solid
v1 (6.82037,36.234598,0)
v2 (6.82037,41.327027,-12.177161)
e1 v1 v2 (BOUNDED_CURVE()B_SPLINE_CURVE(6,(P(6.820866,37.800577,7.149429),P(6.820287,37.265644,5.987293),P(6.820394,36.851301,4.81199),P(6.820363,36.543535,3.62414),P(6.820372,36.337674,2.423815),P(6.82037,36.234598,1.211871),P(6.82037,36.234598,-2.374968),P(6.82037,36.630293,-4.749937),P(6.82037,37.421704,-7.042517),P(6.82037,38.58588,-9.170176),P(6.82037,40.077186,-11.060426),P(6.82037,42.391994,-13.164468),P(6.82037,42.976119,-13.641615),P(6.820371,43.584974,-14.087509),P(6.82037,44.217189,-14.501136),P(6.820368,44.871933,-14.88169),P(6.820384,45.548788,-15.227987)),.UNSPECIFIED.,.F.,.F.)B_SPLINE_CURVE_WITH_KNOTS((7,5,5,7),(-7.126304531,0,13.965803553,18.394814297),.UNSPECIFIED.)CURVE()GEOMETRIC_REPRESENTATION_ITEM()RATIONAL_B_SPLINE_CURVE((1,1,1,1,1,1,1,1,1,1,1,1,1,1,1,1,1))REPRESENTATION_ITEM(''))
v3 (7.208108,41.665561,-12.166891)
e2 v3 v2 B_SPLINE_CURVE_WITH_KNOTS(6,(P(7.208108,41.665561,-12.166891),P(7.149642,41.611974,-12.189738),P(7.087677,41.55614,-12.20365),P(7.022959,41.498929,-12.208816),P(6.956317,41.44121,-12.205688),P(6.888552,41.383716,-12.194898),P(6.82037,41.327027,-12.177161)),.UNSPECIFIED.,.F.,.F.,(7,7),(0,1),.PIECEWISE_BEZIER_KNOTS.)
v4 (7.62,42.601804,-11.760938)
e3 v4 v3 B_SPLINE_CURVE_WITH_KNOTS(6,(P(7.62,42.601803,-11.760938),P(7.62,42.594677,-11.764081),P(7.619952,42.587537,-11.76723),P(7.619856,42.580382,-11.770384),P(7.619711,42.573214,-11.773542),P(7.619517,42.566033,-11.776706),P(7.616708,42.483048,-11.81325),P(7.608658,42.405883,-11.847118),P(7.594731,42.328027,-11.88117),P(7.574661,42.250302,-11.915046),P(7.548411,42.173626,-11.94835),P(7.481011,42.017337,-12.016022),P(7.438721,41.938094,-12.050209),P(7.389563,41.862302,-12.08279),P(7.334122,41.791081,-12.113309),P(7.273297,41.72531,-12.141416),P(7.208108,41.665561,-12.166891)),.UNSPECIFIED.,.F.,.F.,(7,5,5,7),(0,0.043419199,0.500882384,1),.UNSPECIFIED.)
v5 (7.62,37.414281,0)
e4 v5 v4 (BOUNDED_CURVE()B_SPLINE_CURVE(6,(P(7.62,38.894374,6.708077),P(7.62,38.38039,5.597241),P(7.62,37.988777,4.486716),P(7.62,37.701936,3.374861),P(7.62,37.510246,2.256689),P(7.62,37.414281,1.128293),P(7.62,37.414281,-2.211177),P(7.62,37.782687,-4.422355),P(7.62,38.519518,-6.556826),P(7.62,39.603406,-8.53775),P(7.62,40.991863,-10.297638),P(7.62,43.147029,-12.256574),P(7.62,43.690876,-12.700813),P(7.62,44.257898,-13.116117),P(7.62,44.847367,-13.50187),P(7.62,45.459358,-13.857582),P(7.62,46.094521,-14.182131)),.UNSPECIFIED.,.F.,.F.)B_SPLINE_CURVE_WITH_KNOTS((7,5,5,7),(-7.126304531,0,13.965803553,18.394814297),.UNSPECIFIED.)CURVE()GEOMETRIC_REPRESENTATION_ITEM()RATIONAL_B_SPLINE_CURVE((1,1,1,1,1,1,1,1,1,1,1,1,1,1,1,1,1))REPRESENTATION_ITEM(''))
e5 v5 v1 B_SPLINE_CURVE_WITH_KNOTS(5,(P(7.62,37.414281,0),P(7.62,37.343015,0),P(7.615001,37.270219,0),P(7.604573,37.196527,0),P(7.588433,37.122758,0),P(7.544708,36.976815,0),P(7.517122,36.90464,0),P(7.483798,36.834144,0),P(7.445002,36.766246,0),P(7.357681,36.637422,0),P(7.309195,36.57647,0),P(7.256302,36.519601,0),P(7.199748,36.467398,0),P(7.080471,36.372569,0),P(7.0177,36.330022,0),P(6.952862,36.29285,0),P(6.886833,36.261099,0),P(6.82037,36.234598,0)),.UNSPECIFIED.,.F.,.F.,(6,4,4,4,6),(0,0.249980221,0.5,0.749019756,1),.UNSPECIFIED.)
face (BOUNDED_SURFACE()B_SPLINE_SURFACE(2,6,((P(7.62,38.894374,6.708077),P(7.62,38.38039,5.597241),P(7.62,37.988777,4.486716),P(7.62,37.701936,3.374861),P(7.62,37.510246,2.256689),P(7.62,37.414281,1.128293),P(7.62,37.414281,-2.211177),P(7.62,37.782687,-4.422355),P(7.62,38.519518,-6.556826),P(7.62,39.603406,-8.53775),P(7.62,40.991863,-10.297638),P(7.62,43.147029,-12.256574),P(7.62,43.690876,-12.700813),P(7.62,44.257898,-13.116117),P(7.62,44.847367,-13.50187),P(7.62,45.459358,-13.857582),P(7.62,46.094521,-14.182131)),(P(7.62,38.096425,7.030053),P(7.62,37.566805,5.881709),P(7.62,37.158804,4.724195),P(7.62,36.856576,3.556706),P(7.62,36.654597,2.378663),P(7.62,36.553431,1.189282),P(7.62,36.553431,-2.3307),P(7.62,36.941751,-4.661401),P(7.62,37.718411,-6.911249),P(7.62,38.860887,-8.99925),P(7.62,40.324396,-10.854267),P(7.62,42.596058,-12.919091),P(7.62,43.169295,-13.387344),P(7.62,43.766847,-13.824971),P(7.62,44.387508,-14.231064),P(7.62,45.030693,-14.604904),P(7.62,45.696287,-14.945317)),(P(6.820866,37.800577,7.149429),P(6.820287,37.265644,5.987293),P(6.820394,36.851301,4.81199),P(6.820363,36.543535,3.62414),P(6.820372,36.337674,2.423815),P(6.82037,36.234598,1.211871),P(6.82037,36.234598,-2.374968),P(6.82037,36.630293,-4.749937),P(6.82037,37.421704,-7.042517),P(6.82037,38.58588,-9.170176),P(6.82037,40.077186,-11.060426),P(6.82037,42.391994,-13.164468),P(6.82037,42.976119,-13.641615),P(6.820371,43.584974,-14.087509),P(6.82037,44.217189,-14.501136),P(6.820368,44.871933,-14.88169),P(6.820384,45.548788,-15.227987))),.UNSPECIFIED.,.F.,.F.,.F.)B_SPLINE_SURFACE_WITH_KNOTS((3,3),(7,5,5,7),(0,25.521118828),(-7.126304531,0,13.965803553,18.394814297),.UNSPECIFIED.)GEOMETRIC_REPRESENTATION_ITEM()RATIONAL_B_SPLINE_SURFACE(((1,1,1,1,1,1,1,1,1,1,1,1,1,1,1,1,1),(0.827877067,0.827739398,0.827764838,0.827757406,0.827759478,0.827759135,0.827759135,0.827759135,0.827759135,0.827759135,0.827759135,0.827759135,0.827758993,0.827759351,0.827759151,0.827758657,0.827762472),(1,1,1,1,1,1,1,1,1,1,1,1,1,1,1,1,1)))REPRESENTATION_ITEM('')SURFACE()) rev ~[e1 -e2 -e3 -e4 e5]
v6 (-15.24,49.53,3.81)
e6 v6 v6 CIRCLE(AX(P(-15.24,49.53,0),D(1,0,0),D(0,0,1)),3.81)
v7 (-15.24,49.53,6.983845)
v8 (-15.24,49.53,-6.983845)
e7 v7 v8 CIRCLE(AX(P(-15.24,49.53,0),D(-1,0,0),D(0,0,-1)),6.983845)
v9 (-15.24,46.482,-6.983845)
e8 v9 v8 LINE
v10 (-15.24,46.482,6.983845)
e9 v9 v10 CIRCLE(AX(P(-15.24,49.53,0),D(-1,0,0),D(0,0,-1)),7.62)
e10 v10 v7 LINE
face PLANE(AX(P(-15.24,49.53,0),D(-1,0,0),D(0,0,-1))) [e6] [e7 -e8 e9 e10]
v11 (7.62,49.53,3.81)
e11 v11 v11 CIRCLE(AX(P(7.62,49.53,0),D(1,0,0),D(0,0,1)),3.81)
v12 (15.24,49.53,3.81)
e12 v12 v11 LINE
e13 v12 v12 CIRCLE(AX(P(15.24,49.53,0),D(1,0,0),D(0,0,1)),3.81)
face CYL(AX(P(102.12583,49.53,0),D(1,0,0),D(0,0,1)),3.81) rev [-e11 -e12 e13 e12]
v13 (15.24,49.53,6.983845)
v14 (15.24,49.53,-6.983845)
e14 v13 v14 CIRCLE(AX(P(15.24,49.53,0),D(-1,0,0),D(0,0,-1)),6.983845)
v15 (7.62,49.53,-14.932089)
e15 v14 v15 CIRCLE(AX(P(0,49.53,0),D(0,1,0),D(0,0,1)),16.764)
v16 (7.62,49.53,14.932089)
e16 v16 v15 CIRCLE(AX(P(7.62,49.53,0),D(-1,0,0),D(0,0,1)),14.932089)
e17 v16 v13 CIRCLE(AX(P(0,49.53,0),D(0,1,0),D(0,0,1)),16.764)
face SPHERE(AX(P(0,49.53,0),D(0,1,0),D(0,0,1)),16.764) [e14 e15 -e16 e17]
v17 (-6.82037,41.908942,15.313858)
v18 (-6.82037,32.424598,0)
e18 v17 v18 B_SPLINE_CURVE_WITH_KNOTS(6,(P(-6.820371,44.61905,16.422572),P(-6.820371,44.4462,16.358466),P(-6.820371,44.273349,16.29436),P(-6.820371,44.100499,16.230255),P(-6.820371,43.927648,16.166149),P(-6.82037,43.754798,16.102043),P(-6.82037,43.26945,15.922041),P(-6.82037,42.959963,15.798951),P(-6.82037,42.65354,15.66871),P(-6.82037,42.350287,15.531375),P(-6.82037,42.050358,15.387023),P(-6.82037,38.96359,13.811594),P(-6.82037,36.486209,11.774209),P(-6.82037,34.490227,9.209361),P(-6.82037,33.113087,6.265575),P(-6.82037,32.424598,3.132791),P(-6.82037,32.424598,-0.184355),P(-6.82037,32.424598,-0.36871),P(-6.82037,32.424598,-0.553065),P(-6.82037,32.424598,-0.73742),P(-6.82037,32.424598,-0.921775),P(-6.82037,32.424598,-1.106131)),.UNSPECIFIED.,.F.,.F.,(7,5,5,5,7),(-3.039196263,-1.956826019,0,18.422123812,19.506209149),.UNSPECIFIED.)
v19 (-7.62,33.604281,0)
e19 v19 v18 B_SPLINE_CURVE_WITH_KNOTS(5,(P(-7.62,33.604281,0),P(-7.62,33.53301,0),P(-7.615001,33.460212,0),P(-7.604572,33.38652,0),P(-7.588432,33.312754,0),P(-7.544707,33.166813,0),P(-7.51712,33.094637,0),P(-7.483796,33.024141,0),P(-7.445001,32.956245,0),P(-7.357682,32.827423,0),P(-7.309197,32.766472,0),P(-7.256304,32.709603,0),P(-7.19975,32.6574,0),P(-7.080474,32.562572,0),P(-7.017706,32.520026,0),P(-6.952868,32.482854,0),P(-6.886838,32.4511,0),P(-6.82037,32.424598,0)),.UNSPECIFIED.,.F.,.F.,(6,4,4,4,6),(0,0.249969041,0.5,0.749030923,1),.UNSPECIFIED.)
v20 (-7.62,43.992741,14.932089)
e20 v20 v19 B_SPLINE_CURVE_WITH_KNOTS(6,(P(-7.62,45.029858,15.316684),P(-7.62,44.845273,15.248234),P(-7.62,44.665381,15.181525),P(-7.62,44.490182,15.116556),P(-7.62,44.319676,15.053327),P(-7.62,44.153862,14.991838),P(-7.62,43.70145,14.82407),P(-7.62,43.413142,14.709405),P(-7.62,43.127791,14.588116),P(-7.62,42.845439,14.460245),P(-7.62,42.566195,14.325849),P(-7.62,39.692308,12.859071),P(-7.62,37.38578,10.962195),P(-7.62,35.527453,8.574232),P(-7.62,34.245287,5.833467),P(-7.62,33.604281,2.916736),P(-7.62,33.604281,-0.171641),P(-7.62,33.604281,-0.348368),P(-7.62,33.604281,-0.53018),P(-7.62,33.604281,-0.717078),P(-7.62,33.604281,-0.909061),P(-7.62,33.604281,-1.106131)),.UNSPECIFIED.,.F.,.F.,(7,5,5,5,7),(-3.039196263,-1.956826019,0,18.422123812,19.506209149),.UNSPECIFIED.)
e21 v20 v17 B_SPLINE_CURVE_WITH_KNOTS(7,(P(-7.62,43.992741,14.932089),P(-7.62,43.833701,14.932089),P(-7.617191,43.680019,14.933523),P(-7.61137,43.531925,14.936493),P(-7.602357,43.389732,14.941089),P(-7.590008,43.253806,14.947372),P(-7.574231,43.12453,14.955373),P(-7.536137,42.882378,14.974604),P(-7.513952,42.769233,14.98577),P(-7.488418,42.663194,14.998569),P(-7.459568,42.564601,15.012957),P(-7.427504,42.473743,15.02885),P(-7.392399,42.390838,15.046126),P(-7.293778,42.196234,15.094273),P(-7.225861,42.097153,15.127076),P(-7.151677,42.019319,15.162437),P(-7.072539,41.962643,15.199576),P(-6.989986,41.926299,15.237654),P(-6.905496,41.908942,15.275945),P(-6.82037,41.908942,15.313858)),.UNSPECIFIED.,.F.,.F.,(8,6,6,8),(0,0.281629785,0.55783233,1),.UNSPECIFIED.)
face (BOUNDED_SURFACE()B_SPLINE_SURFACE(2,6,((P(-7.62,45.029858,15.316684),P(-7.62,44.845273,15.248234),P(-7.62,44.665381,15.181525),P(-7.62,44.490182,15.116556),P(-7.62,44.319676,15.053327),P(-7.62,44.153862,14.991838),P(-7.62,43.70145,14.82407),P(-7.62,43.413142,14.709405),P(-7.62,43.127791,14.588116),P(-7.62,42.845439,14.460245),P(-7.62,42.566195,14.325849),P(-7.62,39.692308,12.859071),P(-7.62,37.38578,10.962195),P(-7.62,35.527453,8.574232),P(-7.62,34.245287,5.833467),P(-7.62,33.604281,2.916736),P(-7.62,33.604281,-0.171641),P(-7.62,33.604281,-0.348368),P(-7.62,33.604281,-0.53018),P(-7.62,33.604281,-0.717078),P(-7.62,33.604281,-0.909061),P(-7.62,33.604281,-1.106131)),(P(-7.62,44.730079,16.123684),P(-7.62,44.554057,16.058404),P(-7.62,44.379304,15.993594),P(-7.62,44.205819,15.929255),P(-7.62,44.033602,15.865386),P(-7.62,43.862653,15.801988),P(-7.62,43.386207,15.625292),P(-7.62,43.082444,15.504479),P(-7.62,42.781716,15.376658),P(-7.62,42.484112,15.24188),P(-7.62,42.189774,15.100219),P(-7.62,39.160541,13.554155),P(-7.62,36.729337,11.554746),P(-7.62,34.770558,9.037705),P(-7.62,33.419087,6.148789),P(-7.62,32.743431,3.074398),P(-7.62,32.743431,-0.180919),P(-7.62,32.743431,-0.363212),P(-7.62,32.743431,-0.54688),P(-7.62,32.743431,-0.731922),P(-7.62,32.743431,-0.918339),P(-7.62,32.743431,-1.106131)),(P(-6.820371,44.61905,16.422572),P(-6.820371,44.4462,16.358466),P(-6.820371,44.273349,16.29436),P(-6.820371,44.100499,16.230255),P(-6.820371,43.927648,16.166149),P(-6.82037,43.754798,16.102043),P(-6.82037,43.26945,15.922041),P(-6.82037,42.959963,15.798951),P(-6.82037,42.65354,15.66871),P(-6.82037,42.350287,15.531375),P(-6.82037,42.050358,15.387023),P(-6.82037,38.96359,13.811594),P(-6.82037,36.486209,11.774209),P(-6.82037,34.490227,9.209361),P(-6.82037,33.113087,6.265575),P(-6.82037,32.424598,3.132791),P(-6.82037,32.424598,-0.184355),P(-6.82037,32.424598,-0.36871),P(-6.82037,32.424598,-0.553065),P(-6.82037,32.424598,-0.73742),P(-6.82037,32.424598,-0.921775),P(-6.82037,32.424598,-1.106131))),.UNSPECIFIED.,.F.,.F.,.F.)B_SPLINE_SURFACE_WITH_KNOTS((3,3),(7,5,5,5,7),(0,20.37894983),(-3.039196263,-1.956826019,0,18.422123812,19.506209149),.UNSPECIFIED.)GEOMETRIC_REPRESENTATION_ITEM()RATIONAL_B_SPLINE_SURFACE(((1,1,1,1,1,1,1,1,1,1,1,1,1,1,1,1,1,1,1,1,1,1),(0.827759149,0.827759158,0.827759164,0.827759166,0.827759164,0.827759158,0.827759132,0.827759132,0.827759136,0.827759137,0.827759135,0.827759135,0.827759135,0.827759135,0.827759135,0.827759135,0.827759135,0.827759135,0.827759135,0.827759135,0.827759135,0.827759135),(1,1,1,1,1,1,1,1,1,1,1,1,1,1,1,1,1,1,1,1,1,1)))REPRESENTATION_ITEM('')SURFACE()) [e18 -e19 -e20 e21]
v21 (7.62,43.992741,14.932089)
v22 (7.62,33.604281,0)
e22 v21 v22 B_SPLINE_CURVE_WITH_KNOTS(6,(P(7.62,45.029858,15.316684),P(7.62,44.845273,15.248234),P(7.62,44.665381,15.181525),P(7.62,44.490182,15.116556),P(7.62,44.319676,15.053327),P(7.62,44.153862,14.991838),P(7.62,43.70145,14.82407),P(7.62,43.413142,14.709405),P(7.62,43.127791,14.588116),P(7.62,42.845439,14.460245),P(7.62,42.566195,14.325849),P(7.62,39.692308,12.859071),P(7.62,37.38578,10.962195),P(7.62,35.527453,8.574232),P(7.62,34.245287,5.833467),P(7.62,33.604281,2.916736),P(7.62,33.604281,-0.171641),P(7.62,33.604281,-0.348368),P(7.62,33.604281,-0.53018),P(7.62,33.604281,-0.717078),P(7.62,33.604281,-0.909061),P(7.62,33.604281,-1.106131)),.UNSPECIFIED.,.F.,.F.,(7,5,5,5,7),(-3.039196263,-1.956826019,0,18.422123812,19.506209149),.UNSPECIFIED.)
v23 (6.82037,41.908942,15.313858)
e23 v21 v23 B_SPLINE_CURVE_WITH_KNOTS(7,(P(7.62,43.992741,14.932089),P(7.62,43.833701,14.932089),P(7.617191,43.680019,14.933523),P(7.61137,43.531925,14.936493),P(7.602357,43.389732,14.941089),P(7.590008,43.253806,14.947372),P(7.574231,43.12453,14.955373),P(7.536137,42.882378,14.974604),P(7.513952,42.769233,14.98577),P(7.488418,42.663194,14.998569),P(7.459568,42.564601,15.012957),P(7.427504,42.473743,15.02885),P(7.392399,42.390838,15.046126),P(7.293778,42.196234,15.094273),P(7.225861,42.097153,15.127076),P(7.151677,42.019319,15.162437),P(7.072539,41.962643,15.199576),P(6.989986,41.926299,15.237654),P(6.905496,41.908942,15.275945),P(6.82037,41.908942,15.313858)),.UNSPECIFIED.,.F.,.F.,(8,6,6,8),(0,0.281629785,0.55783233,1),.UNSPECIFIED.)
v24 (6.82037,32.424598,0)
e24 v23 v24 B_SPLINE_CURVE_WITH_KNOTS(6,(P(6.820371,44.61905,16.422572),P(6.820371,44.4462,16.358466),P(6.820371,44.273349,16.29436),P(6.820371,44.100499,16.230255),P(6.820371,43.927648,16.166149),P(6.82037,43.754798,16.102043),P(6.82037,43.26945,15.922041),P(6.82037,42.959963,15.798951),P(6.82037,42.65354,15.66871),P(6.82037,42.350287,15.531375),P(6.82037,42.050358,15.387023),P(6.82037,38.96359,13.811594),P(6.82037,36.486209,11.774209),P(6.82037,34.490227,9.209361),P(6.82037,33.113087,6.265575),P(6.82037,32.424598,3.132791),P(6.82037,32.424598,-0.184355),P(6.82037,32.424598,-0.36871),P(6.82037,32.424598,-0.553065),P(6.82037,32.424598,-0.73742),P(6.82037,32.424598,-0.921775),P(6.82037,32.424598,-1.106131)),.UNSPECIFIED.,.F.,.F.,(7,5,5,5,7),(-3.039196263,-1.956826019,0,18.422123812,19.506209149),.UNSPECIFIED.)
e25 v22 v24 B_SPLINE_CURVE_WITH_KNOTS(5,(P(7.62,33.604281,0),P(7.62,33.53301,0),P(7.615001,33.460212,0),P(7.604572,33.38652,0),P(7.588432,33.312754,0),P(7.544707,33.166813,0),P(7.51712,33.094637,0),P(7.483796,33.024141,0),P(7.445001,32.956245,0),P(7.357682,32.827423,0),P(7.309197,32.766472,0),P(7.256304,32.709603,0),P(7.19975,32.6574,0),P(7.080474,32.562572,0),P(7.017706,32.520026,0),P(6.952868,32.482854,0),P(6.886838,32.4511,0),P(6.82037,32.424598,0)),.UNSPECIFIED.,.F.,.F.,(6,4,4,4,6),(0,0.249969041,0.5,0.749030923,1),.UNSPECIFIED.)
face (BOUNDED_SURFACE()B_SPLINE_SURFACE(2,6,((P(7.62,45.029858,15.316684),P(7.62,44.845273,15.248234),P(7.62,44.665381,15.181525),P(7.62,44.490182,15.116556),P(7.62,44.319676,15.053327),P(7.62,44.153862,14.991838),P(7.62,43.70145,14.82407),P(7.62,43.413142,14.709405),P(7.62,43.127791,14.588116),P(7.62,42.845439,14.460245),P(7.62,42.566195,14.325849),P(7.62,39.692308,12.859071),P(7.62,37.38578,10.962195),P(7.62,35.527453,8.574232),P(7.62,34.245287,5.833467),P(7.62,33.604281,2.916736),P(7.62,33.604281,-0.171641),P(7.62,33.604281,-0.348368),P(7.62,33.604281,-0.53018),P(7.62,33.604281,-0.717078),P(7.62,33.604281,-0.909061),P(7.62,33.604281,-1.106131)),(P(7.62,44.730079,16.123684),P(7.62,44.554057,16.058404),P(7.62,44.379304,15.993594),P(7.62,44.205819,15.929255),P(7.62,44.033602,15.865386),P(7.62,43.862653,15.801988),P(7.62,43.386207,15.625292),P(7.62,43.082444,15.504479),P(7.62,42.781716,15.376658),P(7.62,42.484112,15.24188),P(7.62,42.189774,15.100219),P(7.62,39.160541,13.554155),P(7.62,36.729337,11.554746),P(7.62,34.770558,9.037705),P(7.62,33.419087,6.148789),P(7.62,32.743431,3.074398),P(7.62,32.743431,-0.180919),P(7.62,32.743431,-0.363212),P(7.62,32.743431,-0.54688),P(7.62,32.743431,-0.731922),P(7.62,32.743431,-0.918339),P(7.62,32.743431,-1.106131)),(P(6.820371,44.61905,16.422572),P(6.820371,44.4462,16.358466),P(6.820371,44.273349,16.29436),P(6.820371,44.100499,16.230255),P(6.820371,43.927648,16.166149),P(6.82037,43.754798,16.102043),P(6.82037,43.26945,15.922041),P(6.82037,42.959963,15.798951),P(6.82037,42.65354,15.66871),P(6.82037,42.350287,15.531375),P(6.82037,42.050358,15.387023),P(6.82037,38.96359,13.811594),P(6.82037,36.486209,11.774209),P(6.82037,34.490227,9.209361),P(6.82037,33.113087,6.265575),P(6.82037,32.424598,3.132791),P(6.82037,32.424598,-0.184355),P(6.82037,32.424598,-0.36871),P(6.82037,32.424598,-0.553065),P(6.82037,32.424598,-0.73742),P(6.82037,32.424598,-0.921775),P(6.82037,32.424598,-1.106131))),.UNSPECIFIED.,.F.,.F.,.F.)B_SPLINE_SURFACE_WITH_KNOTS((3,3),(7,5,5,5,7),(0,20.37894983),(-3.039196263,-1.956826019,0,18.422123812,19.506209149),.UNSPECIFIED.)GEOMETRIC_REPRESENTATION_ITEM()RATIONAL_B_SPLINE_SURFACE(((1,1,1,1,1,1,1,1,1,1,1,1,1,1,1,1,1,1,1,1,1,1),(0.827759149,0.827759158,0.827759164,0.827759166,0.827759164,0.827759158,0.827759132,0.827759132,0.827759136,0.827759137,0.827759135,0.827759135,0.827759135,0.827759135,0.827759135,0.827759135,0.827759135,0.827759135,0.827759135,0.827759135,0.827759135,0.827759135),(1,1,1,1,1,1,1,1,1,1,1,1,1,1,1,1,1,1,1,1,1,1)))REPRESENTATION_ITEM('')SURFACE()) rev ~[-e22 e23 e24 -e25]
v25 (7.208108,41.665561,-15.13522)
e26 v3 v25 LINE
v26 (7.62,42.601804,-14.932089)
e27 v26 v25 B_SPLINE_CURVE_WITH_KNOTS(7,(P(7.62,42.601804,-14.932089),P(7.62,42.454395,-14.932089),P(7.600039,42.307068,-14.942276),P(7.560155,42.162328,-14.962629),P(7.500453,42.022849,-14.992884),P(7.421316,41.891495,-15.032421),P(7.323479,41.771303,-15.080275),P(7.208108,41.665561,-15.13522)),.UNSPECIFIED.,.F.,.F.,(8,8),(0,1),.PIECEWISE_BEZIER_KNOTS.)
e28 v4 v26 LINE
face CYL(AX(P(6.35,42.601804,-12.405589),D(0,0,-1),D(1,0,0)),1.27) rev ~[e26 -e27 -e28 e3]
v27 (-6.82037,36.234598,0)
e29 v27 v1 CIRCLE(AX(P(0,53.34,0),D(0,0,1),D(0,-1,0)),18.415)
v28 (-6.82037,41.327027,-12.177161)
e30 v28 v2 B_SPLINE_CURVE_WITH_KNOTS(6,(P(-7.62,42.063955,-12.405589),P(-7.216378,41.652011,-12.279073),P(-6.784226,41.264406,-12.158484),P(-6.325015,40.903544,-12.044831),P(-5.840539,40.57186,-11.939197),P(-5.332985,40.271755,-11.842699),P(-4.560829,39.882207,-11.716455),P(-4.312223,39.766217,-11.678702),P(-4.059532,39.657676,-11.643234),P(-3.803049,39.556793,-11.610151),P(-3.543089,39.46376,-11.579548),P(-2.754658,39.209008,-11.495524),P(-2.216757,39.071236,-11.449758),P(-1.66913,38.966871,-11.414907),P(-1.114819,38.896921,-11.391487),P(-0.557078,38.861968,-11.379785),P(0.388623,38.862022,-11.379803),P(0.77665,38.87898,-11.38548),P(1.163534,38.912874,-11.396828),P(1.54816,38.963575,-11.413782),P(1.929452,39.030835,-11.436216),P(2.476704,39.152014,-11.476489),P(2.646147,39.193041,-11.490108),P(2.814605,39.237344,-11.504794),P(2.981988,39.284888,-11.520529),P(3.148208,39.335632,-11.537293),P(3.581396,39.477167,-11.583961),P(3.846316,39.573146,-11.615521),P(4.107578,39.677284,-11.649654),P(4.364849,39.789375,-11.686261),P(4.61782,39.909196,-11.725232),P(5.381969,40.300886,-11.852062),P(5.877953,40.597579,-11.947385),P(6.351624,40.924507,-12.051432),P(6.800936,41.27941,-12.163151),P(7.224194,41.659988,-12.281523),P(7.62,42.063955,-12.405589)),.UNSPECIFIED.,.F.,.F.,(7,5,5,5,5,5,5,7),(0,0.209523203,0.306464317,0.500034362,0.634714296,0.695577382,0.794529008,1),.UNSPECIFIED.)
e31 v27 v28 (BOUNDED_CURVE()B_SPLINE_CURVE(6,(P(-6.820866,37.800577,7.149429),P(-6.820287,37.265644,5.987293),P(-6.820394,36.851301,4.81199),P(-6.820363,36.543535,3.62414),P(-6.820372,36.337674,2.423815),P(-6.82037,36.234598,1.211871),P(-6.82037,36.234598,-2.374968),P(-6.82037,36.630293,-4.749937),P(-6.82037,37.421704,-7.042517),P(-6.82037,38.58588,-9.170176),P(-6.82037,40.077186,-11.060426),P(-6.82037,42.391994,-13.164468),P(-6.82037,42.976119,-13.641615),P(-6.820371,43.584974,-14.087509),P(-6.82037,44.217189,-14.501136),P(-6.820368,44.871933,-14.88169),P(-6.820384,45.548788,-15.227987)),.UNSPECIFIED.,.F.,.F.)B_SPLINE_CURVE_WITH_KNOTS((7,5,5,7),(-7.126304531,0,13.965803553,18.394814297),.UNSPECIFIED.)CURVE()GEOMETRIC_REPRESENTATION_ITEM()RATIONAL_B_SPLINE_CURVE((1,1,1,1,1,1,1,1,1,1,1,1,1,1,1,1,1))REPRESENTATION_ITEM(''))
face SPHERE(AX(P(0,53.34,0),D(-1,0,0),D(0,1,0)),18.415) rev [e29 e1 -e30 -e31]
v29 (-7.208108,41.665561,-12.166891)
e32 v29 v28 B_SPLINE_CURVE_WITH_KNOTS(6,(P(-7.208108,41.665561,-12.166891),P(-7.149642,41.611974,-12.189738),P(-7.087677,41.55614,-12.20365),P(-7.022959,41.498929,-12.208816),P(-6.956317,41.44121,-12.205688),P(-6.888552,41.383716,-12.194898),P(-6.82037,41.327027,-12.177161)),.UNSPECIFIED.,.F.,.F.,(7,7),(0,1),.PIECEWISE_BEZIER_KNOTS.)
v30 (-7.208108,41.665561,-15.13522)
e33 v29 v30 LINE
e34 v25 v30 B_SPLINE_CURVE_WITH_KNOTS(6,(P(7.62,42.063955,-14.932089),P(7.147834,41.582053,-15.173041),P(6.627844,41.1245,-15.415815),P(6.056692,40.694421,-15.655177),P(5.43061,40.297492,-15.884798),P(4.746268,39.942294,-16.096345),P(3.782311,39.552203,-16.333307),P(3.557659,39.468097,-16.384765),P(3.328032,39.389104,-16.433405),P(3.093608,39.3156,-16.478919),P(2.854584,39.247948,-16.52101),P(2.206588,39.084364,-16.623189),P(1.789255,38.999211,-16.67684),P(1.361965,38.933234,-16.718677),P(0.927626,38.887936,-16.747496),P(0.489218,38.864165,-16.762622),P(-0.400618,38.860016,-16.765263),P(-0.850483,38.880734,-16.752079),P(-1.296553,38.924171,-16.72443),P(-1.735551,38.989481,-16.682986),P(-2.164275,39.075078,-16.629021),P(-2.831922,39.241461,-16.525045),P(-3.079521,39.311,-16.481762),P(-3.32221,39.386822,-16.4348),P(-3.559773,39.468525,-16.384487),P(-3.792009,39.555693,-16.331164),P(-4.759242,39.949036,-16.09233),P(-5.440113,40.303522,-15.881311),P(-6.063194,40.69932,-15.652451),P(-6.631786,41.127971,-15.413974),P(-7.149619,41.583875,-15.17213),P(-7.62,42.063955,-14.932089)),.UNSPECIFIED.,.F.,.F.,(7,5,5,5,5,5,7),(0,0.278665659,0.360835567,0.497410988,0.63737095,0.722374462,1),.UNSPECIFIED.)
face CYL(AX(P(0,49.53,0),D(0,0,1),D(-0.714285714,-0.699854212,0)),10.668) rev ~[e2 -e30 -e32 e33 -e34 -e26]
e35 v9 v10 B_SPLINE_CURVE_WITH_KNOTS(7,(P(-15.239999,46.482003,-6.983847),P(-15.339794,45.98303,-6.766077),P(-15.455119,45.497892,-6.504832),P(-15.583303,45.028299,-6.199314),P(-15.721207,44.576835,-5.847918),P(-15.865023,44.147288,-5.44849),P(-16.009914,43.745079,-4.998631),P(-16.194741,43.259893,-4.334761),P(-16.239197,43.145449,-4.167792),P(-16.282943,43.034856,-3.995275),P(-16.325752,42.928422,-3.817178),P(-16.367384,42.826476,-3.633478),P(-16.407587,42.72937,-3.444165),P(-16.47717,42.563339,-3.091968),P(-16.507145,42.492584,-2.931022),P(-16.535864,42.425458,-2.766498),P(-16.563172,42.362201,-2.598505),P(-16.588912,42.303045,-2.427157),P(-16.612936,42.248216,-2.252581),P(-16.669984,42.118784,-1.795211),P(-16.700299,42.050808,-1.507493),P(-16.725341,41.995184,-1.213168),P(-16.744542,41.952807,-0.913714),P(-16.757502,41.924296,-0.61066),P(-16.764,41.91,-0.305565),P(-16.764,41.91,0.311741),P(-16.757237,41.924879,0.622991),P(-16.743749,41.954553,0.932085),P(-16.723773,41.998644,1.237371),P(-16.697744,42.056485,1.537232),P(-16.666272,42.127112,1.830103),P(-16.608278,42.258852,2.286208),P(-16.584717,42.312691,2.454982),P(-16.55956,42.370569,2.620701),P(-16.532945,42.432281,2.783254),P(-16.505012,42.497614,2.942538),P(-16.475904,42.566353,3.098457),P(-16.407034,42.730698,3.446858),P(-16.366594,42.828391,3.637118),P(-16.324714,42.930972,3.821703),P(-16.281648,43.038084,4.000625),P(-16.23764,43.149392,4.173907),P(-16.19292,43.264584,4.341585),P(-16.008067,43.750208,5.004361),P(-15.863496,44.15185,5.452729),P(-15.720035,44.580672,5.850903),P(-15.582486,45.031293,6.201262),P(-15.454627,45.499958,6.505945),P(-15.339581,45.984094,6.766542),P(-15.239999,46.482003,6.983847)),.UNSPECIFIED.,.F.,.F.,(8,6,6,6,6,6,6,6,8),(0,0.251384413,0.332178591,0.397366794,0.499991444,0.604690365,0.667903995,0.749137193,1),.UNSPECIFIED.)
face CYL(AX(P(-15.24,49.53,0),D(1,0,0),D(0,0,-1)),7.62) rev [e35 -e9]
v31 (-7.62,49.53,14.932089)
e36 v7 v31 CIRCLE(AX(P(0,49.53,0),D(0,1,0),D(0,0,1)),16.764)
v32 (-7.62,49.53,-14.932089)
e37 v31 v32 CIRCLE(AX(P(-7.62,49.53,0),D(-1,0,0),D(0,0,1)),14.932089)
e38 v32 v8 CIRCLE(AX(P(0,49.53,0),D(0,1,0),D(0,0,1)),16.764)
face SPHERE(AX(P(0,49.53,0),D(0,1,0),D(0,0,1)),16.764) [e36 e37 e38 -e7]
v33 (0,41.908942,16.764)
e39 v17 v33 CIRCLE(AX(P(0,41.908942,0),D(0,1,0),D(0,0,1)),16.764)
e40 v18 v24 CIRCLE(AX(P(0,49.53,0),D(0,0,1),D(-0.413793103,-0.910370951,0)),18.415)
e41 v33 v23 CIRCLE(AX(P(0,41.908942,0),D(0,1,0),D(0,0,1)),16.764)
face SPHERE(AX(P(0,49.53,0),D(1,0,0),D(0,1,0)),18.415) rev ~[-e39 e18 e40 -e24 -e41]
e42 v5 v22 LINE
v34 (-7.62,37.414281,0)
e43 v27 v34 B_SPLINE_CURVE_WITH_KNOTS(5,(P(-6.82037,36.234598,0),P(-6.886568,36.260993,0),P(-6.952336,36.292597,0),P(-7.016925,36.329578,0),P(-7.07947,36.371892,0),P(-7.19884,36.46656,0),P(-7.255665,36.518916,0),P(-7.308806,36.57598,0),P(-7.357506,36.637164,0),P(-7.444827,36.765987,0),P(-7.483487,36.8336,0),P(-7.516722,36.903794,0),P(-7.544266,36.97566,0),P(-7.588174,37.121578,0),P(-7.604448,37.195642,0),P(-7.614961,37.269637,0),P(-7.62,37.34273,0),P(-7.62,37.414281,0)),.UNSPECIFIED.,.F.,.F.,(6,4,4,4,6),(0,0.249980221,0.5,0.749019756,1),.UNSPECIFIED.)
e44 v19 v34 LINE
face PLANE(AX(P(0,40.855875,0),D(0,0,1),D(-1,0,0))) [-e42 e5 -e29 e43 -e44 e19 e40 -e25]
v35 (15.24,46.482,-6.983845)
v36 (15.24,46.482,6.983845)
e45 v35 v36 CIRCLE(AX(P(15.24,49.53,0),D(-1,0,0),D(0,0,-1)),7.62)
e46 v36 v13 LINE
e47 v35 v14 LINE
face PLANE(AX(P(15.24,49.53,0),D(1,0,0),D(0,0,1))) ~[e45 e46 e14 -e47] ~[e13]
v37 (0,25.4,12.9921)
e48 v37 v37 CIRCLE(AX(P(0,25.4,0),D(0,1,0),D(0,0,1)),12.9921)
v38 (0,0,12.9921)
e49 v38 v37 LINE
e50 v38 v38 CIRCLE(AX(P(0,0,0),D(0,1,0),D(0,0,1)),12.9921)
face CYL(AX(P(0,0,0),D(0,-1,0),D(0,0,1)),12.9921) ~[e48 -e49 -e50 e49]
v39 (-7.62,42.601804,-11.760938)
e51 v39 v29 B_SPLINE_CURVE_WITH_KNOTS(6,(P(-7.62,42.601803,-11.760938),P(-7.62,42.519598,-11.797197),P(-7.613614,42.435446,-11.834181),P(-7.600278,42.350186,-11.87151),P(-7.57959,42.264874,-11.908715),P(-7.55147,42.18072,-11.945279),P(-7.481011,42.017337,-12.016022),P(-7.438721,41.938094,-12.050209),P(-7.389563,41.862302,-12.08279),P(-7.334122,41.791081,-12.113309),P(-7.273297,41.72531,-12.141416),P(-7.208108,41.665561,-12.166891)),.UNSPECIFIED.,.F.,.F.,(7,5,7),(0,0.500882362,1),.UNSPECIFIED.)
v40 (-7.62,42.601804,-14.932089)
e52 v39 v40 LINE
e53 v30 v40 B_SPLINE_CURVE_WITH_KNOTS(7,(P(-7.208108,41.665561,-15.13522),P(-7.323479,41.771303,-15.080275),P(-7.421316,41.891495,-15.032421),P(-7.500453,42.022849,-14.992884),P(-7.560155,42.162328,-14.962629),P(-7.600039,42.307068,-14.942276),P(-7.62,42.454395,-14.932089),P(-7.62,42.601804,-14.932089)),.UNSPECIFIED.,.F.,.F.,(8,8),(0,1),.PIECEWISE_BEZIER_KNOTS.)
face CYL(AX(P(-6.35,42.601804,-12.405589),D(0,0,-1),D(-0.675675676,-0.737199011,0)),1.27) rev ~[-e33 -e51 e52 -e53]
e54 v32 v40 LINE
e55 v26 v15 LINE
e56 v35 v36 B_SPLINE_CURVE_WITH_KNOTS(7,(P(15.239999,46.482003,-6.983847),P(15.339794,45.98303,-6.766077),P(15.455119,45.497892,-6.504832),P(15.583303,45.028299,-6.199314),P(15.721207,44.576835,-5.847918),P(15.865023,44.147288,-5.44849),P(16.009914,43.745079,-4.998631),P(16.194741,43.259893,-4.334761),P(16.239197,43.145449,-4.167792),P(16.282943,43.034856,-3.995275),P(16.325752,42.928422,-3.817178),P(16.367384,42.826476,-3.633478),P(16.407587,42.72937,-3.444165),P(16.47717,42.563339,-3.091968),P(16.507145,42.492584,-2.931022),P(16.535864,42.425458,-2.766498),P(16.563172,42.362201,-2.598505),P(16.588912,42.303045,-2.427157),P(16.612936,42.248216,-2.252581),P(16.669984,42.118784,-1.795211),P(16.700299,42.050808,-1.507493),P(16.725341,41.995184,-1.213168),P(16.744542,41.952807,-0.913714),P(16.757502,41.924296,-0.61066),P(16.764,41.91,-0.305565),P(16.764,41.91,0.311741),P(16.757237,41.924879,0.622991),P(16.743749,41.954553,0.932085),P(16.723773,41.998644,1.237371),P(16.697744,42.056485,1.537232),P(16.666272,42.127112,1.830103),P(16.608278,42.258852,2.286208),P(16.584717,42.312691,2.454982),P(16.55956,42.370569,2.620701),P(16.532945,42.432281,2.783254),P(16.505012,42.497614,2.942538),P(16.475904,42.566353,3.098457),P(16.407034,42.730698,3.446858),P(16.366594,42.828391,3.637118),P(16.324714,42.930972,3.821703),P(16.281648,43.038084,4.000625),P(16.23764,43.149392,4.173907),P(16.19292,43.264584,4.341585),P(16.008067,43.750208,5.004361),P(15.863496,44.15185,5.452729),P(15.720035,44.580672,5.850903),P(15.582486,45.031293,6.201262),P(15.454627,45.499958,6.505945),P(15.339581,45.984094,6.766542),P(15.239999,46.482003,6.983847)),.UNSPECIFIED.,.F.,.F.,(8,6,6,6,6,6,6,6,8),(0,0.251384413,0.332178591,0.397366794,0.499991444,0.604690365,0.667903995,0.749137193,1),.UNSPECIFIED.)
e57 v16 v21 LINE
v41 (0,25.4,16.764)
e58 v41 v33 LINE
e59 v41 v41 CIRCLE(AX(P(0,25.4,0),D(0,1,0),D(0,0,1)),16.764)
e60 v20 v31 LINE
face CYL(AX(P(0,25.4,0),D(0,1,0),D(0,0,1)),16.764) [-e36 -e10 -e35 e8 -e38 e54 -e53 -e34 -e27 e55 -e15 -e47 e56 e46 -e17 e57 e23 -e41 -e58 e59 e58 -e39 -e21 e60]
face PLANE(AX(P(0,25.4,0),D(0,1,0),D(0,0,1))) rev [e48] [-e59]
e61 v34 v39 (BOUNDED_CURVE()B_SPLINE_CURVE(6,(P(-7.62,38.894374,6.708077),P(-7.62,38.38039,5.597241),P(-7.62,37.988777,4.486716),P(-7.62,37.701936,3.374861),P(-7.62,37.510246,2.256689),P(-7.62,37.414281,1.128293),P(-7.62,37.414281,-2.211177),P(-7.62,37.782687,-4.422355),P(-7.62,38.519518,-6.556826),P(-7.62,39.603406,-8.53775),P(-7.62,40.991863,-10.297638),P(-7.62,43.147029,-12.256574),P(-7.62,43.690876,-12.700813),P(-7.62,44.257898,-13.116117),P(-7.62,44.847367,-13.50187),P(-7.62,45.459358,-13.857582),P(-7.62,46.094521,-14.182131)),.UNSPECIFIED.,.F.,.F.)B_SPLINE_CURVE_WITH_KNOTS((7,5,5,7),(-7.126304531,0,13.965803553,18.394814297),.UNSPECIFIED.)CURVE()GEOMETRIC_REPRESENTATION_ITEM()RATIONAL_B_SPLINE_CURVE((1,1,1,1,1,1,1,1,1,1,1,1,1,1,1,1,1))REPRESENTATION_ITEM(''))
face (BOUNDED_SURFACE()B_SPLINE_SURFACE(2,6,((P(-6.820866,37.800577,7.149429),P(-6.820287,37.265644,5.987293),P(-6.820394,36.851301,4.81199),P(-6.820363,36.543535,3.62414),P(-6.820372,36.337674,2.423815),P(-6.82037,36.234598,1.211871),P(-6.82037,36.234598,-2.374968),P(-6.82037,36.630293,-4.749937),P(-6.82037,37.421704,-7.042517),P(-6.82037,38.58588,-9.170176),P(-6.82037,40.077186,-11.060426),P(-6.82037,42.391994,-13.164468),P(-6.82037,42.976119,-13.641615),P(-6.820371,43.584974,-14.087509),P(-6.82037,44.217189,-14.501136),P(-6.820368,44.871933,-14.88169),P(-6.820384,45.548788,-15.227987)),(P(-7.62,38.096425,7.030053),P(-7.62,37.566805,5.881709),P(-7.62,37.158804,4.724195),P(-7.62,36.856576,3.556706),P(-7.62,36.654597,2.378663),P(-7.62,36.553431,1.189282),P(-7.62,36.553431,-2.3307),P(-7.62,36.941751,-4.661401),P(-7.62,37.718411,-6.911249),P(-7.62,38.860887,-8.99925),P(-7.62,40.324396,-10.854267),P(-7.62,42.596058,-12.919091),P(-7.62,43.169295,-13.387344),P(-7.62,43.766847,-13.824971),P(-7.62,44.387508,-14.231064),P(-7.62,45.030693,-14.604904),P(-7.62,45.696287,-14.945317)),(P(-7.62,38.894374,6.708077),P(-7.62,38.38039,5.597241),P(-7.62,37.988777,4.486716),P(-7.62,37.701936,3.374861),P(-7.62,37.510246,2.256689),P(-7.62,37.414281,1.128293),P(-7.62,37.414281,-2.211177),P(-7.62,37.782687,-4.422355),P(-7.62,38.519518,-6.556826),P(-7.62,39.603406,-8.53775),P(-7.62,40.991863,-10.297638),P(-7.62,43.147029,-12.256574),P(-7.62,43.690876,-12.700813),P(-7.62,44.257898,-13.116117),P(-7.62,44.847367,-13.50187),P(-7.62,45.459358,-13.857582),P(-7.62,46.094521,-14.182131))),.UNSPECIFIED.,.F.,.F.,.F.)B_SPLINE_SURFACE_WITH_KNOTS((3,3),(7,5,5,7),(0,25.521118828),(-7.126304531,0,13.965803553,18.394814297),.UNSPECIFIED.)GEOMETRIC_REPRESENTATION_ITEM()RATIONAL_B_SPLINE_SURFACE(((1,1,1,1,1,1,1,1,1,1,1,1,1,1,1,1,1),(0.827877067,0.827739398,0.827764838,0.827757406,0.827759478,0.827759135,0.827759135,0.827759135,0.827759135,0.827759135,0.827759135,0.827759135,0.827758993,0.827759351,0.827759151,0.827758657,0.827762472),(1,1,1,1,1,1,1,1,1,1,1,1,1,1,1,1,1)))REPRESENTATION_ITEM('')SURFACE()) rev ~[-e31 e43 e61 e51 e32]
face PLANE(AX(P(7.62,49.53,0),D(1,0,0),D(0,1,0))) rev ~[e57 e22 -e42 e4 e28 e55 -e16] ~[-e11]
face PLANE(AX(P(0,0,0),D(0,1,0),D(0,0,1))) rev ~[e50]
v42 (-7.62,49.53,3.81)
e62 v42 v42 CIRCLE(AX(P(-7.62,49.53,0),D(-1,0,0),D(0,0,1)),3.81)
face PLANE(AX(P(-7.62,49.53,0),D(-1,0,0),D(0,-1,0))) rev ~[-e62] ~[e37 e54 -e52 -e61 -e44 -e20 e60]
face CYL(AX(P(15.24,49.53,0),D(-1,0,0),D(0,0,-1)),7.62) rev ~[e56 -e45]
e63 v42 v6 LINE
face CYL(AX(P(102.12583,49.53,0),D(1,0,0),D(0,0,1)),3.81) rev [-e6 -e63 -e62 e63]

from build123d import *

# Parameters (mm, degrees)
SKETCH1_R                     = 12.9921
BOSS_EXTRUDE1_DEPTH           = 25.4
CUT_EXTRUDE1_DEPTH            = 102.12582981
CUT_EXTRUDE1_DEPTH_BACK       = 102.12582981
SKETCH3_R                     = 3.81
CUT_REVOLVE10_ANGLE           = 90
CUT_REVOLVE10_OTHER_WAY_ANGLE = 180
CUT_EXTRUDE4_DEPTH            = 32.004
FILLET1_R                     = 1.27
SKETCH15_R                    = 7.62
CUT_EXTRUDE5_DEPTH            = 10.16


with BuildPart() as part:
    # Sketch1 → Boss-Extrude1 (new body)
    with BuildSketch(Plane(origin=(0, 0, 0), x_dir=(1, 0, 0), z_dir=(0, 1, 0))):
        Circle(SKETCH1_R)
    extrude(amount=BOSS_EXTRUDE1_DEPTH)

    # Sketch2 → Revolve1 (revolve)
    with BuildSketch(Plane(origin=(0, 0, 0), x_dir=(0, 0, -1), z_dir=(1, 0, 0))):
        with BuildLine():
            Line((-16.764, 25.4), (-16.764, 49.53))
            ThreePointArc((-16.764, 49.53), (-11.85393808, 61.38393808), (0, 66.294))
            Line((0, 66.294), (0, 25.4))
            Line((0, 25.4), (-16.764, 25.4))
        make_face()
    revolve(axis=Axis((0, 25.4, 0), (0, 1, 0)))

    # Sketch3 → Cut-Extrude1 (cut, two sides: drawn at the far end of the back side and taken through both)
    with BuildSketch(Plane(origin=(0, 98.307528007, 0), x_dir=(0, 0, -1), z_dir=(-1, 0, 0)).offset(-CUT_EXTRUDE1_DEPTH_BACK)):
        with Locations((0, 48.777528007)):
            Circle(SKETCH3_R)
    extrude(amount=CUT_EXTRUDE1_DEPTH + CUT_EXTRUDE1_DEPTH_BACK, mode=Mode.SUBTRACT)

    # Sketch11 → Cut-Revolve10 (revolve, cut)
    with BuildSketch(Plane.XY):
        with BuildLine():
            Line((-7.62, 49.53), (-7.62, 66.294481054))
            ThreePointArc((-7.62, 66.294481054), (0, 67.945), (7.62, 66.294481054))
            Line((7.62, 66.294481054), (7.62, 49.53))
            Line((7.62, 49.53), (-7.62, 49.53))
        make_face()
    revolve(axis=Axis((16.764, 49.53, 0), (-1, 0, 0)), revolution_arc=CUT_REVOLVE10_ANGLE, mode=Mode.SUBTRACT)

    # Sketch11 → Cut-Revolve10 other way (revolve, cut)
    with BuildSketch(Plane.XY):
        with BuildLine():
            Line((-7.62, 49.53), (-7.62, 66.294481054))
            ThreePointArc((-7.62, 66.294481054), (0, 67.945), (7.62, 66.294481054))
            Line((7.62, 66.294481054), (7.62, 49.53))
            Line((7.62, 49.53), (-7.62, 49.53))
        make_face()
    revolve(axis=Axis((16.764, 49.53, 0), (1, 0, 0)), revolution_arc=CUT_REVOLVE10_OTHER_WAY_ANGLE, mode=Mode.SUBTRACT)

    # Sketch13 → Cut-Revolve11 (revolve, cut)
    with BuildSketch(Plane.XY):
        with BuildLine():
            Line((-7.62, 53.34), (7.62, 53.34))
            Line((7.62, 53.34), (7.62, 70.104481054))
            ThreePointArc((7.62, 70.104481054), (0, 71.755), (-7.62, 70.104481054))
            Line((-7.62, 70.104481054), (-7.62, 53.34))
        make_face()
    revolve(axis=Axis((-7.62, 53.34, 0), (1, 0, 0)), mode=Mode.SUBTRACT)

    # Sketch14 → Cut-Extrude4 (cut)
    with BuildSketch(Plane.XY):
        with BuildLine():
            Line((-7.62, 49.53), (-7.62, 42.063955264))
            ThreePointArc((-7.62, 42.063955264), (0, 38.862), (7.62, 42.063955264))
            Line((7.62, 42.063955264), (7.62, 49.53))
            Line((7.62, 49.53), (-7.62, 49.53))
        make_face()
    extrude(amount=-CUT_EXTRUDE4_DEPTH, mode=Mode.SUBTRACT)

    # Fillet1
    fillet1_edges = [part.edges().sort_by_distance(p)[0] for p in [
        (-7.62, 35.232956393, 8.754562759),
        (-7.62, 38.008906377, -6.782727573),
        (-7.62, 42.063955264, -13.66883927),
        (7.62, 42.063955264, -13.66883927),
        (7.62, 38.008906377, -6.782727573),
        (7.62, 35.232956393, 8.754562759),
    ]]
    fillet(fillet1_edges, radius=FILLET1_R)

    # Sketch15 → Cut-Extrude5 (cut)
    with BuildSketch(Plane(origin=(-15.24, 0, 0), x_dir=(0, 0, -1), z_dir=(-1, 0, 0))):
        with Locations((0, -49.53)):
            Circle(SKETCH15_R)
    cut_extrude5 = extrude(amount=CUT_EXTRUDE5_DEPTH, mode=Mode.SUBTRACT)

    # Mirror1: Cut-Extrude5 across plane
    add(cut_extrude5.mirror(Plane.ZY), mode=Mode.SUBTRACT)


solid = part.part
